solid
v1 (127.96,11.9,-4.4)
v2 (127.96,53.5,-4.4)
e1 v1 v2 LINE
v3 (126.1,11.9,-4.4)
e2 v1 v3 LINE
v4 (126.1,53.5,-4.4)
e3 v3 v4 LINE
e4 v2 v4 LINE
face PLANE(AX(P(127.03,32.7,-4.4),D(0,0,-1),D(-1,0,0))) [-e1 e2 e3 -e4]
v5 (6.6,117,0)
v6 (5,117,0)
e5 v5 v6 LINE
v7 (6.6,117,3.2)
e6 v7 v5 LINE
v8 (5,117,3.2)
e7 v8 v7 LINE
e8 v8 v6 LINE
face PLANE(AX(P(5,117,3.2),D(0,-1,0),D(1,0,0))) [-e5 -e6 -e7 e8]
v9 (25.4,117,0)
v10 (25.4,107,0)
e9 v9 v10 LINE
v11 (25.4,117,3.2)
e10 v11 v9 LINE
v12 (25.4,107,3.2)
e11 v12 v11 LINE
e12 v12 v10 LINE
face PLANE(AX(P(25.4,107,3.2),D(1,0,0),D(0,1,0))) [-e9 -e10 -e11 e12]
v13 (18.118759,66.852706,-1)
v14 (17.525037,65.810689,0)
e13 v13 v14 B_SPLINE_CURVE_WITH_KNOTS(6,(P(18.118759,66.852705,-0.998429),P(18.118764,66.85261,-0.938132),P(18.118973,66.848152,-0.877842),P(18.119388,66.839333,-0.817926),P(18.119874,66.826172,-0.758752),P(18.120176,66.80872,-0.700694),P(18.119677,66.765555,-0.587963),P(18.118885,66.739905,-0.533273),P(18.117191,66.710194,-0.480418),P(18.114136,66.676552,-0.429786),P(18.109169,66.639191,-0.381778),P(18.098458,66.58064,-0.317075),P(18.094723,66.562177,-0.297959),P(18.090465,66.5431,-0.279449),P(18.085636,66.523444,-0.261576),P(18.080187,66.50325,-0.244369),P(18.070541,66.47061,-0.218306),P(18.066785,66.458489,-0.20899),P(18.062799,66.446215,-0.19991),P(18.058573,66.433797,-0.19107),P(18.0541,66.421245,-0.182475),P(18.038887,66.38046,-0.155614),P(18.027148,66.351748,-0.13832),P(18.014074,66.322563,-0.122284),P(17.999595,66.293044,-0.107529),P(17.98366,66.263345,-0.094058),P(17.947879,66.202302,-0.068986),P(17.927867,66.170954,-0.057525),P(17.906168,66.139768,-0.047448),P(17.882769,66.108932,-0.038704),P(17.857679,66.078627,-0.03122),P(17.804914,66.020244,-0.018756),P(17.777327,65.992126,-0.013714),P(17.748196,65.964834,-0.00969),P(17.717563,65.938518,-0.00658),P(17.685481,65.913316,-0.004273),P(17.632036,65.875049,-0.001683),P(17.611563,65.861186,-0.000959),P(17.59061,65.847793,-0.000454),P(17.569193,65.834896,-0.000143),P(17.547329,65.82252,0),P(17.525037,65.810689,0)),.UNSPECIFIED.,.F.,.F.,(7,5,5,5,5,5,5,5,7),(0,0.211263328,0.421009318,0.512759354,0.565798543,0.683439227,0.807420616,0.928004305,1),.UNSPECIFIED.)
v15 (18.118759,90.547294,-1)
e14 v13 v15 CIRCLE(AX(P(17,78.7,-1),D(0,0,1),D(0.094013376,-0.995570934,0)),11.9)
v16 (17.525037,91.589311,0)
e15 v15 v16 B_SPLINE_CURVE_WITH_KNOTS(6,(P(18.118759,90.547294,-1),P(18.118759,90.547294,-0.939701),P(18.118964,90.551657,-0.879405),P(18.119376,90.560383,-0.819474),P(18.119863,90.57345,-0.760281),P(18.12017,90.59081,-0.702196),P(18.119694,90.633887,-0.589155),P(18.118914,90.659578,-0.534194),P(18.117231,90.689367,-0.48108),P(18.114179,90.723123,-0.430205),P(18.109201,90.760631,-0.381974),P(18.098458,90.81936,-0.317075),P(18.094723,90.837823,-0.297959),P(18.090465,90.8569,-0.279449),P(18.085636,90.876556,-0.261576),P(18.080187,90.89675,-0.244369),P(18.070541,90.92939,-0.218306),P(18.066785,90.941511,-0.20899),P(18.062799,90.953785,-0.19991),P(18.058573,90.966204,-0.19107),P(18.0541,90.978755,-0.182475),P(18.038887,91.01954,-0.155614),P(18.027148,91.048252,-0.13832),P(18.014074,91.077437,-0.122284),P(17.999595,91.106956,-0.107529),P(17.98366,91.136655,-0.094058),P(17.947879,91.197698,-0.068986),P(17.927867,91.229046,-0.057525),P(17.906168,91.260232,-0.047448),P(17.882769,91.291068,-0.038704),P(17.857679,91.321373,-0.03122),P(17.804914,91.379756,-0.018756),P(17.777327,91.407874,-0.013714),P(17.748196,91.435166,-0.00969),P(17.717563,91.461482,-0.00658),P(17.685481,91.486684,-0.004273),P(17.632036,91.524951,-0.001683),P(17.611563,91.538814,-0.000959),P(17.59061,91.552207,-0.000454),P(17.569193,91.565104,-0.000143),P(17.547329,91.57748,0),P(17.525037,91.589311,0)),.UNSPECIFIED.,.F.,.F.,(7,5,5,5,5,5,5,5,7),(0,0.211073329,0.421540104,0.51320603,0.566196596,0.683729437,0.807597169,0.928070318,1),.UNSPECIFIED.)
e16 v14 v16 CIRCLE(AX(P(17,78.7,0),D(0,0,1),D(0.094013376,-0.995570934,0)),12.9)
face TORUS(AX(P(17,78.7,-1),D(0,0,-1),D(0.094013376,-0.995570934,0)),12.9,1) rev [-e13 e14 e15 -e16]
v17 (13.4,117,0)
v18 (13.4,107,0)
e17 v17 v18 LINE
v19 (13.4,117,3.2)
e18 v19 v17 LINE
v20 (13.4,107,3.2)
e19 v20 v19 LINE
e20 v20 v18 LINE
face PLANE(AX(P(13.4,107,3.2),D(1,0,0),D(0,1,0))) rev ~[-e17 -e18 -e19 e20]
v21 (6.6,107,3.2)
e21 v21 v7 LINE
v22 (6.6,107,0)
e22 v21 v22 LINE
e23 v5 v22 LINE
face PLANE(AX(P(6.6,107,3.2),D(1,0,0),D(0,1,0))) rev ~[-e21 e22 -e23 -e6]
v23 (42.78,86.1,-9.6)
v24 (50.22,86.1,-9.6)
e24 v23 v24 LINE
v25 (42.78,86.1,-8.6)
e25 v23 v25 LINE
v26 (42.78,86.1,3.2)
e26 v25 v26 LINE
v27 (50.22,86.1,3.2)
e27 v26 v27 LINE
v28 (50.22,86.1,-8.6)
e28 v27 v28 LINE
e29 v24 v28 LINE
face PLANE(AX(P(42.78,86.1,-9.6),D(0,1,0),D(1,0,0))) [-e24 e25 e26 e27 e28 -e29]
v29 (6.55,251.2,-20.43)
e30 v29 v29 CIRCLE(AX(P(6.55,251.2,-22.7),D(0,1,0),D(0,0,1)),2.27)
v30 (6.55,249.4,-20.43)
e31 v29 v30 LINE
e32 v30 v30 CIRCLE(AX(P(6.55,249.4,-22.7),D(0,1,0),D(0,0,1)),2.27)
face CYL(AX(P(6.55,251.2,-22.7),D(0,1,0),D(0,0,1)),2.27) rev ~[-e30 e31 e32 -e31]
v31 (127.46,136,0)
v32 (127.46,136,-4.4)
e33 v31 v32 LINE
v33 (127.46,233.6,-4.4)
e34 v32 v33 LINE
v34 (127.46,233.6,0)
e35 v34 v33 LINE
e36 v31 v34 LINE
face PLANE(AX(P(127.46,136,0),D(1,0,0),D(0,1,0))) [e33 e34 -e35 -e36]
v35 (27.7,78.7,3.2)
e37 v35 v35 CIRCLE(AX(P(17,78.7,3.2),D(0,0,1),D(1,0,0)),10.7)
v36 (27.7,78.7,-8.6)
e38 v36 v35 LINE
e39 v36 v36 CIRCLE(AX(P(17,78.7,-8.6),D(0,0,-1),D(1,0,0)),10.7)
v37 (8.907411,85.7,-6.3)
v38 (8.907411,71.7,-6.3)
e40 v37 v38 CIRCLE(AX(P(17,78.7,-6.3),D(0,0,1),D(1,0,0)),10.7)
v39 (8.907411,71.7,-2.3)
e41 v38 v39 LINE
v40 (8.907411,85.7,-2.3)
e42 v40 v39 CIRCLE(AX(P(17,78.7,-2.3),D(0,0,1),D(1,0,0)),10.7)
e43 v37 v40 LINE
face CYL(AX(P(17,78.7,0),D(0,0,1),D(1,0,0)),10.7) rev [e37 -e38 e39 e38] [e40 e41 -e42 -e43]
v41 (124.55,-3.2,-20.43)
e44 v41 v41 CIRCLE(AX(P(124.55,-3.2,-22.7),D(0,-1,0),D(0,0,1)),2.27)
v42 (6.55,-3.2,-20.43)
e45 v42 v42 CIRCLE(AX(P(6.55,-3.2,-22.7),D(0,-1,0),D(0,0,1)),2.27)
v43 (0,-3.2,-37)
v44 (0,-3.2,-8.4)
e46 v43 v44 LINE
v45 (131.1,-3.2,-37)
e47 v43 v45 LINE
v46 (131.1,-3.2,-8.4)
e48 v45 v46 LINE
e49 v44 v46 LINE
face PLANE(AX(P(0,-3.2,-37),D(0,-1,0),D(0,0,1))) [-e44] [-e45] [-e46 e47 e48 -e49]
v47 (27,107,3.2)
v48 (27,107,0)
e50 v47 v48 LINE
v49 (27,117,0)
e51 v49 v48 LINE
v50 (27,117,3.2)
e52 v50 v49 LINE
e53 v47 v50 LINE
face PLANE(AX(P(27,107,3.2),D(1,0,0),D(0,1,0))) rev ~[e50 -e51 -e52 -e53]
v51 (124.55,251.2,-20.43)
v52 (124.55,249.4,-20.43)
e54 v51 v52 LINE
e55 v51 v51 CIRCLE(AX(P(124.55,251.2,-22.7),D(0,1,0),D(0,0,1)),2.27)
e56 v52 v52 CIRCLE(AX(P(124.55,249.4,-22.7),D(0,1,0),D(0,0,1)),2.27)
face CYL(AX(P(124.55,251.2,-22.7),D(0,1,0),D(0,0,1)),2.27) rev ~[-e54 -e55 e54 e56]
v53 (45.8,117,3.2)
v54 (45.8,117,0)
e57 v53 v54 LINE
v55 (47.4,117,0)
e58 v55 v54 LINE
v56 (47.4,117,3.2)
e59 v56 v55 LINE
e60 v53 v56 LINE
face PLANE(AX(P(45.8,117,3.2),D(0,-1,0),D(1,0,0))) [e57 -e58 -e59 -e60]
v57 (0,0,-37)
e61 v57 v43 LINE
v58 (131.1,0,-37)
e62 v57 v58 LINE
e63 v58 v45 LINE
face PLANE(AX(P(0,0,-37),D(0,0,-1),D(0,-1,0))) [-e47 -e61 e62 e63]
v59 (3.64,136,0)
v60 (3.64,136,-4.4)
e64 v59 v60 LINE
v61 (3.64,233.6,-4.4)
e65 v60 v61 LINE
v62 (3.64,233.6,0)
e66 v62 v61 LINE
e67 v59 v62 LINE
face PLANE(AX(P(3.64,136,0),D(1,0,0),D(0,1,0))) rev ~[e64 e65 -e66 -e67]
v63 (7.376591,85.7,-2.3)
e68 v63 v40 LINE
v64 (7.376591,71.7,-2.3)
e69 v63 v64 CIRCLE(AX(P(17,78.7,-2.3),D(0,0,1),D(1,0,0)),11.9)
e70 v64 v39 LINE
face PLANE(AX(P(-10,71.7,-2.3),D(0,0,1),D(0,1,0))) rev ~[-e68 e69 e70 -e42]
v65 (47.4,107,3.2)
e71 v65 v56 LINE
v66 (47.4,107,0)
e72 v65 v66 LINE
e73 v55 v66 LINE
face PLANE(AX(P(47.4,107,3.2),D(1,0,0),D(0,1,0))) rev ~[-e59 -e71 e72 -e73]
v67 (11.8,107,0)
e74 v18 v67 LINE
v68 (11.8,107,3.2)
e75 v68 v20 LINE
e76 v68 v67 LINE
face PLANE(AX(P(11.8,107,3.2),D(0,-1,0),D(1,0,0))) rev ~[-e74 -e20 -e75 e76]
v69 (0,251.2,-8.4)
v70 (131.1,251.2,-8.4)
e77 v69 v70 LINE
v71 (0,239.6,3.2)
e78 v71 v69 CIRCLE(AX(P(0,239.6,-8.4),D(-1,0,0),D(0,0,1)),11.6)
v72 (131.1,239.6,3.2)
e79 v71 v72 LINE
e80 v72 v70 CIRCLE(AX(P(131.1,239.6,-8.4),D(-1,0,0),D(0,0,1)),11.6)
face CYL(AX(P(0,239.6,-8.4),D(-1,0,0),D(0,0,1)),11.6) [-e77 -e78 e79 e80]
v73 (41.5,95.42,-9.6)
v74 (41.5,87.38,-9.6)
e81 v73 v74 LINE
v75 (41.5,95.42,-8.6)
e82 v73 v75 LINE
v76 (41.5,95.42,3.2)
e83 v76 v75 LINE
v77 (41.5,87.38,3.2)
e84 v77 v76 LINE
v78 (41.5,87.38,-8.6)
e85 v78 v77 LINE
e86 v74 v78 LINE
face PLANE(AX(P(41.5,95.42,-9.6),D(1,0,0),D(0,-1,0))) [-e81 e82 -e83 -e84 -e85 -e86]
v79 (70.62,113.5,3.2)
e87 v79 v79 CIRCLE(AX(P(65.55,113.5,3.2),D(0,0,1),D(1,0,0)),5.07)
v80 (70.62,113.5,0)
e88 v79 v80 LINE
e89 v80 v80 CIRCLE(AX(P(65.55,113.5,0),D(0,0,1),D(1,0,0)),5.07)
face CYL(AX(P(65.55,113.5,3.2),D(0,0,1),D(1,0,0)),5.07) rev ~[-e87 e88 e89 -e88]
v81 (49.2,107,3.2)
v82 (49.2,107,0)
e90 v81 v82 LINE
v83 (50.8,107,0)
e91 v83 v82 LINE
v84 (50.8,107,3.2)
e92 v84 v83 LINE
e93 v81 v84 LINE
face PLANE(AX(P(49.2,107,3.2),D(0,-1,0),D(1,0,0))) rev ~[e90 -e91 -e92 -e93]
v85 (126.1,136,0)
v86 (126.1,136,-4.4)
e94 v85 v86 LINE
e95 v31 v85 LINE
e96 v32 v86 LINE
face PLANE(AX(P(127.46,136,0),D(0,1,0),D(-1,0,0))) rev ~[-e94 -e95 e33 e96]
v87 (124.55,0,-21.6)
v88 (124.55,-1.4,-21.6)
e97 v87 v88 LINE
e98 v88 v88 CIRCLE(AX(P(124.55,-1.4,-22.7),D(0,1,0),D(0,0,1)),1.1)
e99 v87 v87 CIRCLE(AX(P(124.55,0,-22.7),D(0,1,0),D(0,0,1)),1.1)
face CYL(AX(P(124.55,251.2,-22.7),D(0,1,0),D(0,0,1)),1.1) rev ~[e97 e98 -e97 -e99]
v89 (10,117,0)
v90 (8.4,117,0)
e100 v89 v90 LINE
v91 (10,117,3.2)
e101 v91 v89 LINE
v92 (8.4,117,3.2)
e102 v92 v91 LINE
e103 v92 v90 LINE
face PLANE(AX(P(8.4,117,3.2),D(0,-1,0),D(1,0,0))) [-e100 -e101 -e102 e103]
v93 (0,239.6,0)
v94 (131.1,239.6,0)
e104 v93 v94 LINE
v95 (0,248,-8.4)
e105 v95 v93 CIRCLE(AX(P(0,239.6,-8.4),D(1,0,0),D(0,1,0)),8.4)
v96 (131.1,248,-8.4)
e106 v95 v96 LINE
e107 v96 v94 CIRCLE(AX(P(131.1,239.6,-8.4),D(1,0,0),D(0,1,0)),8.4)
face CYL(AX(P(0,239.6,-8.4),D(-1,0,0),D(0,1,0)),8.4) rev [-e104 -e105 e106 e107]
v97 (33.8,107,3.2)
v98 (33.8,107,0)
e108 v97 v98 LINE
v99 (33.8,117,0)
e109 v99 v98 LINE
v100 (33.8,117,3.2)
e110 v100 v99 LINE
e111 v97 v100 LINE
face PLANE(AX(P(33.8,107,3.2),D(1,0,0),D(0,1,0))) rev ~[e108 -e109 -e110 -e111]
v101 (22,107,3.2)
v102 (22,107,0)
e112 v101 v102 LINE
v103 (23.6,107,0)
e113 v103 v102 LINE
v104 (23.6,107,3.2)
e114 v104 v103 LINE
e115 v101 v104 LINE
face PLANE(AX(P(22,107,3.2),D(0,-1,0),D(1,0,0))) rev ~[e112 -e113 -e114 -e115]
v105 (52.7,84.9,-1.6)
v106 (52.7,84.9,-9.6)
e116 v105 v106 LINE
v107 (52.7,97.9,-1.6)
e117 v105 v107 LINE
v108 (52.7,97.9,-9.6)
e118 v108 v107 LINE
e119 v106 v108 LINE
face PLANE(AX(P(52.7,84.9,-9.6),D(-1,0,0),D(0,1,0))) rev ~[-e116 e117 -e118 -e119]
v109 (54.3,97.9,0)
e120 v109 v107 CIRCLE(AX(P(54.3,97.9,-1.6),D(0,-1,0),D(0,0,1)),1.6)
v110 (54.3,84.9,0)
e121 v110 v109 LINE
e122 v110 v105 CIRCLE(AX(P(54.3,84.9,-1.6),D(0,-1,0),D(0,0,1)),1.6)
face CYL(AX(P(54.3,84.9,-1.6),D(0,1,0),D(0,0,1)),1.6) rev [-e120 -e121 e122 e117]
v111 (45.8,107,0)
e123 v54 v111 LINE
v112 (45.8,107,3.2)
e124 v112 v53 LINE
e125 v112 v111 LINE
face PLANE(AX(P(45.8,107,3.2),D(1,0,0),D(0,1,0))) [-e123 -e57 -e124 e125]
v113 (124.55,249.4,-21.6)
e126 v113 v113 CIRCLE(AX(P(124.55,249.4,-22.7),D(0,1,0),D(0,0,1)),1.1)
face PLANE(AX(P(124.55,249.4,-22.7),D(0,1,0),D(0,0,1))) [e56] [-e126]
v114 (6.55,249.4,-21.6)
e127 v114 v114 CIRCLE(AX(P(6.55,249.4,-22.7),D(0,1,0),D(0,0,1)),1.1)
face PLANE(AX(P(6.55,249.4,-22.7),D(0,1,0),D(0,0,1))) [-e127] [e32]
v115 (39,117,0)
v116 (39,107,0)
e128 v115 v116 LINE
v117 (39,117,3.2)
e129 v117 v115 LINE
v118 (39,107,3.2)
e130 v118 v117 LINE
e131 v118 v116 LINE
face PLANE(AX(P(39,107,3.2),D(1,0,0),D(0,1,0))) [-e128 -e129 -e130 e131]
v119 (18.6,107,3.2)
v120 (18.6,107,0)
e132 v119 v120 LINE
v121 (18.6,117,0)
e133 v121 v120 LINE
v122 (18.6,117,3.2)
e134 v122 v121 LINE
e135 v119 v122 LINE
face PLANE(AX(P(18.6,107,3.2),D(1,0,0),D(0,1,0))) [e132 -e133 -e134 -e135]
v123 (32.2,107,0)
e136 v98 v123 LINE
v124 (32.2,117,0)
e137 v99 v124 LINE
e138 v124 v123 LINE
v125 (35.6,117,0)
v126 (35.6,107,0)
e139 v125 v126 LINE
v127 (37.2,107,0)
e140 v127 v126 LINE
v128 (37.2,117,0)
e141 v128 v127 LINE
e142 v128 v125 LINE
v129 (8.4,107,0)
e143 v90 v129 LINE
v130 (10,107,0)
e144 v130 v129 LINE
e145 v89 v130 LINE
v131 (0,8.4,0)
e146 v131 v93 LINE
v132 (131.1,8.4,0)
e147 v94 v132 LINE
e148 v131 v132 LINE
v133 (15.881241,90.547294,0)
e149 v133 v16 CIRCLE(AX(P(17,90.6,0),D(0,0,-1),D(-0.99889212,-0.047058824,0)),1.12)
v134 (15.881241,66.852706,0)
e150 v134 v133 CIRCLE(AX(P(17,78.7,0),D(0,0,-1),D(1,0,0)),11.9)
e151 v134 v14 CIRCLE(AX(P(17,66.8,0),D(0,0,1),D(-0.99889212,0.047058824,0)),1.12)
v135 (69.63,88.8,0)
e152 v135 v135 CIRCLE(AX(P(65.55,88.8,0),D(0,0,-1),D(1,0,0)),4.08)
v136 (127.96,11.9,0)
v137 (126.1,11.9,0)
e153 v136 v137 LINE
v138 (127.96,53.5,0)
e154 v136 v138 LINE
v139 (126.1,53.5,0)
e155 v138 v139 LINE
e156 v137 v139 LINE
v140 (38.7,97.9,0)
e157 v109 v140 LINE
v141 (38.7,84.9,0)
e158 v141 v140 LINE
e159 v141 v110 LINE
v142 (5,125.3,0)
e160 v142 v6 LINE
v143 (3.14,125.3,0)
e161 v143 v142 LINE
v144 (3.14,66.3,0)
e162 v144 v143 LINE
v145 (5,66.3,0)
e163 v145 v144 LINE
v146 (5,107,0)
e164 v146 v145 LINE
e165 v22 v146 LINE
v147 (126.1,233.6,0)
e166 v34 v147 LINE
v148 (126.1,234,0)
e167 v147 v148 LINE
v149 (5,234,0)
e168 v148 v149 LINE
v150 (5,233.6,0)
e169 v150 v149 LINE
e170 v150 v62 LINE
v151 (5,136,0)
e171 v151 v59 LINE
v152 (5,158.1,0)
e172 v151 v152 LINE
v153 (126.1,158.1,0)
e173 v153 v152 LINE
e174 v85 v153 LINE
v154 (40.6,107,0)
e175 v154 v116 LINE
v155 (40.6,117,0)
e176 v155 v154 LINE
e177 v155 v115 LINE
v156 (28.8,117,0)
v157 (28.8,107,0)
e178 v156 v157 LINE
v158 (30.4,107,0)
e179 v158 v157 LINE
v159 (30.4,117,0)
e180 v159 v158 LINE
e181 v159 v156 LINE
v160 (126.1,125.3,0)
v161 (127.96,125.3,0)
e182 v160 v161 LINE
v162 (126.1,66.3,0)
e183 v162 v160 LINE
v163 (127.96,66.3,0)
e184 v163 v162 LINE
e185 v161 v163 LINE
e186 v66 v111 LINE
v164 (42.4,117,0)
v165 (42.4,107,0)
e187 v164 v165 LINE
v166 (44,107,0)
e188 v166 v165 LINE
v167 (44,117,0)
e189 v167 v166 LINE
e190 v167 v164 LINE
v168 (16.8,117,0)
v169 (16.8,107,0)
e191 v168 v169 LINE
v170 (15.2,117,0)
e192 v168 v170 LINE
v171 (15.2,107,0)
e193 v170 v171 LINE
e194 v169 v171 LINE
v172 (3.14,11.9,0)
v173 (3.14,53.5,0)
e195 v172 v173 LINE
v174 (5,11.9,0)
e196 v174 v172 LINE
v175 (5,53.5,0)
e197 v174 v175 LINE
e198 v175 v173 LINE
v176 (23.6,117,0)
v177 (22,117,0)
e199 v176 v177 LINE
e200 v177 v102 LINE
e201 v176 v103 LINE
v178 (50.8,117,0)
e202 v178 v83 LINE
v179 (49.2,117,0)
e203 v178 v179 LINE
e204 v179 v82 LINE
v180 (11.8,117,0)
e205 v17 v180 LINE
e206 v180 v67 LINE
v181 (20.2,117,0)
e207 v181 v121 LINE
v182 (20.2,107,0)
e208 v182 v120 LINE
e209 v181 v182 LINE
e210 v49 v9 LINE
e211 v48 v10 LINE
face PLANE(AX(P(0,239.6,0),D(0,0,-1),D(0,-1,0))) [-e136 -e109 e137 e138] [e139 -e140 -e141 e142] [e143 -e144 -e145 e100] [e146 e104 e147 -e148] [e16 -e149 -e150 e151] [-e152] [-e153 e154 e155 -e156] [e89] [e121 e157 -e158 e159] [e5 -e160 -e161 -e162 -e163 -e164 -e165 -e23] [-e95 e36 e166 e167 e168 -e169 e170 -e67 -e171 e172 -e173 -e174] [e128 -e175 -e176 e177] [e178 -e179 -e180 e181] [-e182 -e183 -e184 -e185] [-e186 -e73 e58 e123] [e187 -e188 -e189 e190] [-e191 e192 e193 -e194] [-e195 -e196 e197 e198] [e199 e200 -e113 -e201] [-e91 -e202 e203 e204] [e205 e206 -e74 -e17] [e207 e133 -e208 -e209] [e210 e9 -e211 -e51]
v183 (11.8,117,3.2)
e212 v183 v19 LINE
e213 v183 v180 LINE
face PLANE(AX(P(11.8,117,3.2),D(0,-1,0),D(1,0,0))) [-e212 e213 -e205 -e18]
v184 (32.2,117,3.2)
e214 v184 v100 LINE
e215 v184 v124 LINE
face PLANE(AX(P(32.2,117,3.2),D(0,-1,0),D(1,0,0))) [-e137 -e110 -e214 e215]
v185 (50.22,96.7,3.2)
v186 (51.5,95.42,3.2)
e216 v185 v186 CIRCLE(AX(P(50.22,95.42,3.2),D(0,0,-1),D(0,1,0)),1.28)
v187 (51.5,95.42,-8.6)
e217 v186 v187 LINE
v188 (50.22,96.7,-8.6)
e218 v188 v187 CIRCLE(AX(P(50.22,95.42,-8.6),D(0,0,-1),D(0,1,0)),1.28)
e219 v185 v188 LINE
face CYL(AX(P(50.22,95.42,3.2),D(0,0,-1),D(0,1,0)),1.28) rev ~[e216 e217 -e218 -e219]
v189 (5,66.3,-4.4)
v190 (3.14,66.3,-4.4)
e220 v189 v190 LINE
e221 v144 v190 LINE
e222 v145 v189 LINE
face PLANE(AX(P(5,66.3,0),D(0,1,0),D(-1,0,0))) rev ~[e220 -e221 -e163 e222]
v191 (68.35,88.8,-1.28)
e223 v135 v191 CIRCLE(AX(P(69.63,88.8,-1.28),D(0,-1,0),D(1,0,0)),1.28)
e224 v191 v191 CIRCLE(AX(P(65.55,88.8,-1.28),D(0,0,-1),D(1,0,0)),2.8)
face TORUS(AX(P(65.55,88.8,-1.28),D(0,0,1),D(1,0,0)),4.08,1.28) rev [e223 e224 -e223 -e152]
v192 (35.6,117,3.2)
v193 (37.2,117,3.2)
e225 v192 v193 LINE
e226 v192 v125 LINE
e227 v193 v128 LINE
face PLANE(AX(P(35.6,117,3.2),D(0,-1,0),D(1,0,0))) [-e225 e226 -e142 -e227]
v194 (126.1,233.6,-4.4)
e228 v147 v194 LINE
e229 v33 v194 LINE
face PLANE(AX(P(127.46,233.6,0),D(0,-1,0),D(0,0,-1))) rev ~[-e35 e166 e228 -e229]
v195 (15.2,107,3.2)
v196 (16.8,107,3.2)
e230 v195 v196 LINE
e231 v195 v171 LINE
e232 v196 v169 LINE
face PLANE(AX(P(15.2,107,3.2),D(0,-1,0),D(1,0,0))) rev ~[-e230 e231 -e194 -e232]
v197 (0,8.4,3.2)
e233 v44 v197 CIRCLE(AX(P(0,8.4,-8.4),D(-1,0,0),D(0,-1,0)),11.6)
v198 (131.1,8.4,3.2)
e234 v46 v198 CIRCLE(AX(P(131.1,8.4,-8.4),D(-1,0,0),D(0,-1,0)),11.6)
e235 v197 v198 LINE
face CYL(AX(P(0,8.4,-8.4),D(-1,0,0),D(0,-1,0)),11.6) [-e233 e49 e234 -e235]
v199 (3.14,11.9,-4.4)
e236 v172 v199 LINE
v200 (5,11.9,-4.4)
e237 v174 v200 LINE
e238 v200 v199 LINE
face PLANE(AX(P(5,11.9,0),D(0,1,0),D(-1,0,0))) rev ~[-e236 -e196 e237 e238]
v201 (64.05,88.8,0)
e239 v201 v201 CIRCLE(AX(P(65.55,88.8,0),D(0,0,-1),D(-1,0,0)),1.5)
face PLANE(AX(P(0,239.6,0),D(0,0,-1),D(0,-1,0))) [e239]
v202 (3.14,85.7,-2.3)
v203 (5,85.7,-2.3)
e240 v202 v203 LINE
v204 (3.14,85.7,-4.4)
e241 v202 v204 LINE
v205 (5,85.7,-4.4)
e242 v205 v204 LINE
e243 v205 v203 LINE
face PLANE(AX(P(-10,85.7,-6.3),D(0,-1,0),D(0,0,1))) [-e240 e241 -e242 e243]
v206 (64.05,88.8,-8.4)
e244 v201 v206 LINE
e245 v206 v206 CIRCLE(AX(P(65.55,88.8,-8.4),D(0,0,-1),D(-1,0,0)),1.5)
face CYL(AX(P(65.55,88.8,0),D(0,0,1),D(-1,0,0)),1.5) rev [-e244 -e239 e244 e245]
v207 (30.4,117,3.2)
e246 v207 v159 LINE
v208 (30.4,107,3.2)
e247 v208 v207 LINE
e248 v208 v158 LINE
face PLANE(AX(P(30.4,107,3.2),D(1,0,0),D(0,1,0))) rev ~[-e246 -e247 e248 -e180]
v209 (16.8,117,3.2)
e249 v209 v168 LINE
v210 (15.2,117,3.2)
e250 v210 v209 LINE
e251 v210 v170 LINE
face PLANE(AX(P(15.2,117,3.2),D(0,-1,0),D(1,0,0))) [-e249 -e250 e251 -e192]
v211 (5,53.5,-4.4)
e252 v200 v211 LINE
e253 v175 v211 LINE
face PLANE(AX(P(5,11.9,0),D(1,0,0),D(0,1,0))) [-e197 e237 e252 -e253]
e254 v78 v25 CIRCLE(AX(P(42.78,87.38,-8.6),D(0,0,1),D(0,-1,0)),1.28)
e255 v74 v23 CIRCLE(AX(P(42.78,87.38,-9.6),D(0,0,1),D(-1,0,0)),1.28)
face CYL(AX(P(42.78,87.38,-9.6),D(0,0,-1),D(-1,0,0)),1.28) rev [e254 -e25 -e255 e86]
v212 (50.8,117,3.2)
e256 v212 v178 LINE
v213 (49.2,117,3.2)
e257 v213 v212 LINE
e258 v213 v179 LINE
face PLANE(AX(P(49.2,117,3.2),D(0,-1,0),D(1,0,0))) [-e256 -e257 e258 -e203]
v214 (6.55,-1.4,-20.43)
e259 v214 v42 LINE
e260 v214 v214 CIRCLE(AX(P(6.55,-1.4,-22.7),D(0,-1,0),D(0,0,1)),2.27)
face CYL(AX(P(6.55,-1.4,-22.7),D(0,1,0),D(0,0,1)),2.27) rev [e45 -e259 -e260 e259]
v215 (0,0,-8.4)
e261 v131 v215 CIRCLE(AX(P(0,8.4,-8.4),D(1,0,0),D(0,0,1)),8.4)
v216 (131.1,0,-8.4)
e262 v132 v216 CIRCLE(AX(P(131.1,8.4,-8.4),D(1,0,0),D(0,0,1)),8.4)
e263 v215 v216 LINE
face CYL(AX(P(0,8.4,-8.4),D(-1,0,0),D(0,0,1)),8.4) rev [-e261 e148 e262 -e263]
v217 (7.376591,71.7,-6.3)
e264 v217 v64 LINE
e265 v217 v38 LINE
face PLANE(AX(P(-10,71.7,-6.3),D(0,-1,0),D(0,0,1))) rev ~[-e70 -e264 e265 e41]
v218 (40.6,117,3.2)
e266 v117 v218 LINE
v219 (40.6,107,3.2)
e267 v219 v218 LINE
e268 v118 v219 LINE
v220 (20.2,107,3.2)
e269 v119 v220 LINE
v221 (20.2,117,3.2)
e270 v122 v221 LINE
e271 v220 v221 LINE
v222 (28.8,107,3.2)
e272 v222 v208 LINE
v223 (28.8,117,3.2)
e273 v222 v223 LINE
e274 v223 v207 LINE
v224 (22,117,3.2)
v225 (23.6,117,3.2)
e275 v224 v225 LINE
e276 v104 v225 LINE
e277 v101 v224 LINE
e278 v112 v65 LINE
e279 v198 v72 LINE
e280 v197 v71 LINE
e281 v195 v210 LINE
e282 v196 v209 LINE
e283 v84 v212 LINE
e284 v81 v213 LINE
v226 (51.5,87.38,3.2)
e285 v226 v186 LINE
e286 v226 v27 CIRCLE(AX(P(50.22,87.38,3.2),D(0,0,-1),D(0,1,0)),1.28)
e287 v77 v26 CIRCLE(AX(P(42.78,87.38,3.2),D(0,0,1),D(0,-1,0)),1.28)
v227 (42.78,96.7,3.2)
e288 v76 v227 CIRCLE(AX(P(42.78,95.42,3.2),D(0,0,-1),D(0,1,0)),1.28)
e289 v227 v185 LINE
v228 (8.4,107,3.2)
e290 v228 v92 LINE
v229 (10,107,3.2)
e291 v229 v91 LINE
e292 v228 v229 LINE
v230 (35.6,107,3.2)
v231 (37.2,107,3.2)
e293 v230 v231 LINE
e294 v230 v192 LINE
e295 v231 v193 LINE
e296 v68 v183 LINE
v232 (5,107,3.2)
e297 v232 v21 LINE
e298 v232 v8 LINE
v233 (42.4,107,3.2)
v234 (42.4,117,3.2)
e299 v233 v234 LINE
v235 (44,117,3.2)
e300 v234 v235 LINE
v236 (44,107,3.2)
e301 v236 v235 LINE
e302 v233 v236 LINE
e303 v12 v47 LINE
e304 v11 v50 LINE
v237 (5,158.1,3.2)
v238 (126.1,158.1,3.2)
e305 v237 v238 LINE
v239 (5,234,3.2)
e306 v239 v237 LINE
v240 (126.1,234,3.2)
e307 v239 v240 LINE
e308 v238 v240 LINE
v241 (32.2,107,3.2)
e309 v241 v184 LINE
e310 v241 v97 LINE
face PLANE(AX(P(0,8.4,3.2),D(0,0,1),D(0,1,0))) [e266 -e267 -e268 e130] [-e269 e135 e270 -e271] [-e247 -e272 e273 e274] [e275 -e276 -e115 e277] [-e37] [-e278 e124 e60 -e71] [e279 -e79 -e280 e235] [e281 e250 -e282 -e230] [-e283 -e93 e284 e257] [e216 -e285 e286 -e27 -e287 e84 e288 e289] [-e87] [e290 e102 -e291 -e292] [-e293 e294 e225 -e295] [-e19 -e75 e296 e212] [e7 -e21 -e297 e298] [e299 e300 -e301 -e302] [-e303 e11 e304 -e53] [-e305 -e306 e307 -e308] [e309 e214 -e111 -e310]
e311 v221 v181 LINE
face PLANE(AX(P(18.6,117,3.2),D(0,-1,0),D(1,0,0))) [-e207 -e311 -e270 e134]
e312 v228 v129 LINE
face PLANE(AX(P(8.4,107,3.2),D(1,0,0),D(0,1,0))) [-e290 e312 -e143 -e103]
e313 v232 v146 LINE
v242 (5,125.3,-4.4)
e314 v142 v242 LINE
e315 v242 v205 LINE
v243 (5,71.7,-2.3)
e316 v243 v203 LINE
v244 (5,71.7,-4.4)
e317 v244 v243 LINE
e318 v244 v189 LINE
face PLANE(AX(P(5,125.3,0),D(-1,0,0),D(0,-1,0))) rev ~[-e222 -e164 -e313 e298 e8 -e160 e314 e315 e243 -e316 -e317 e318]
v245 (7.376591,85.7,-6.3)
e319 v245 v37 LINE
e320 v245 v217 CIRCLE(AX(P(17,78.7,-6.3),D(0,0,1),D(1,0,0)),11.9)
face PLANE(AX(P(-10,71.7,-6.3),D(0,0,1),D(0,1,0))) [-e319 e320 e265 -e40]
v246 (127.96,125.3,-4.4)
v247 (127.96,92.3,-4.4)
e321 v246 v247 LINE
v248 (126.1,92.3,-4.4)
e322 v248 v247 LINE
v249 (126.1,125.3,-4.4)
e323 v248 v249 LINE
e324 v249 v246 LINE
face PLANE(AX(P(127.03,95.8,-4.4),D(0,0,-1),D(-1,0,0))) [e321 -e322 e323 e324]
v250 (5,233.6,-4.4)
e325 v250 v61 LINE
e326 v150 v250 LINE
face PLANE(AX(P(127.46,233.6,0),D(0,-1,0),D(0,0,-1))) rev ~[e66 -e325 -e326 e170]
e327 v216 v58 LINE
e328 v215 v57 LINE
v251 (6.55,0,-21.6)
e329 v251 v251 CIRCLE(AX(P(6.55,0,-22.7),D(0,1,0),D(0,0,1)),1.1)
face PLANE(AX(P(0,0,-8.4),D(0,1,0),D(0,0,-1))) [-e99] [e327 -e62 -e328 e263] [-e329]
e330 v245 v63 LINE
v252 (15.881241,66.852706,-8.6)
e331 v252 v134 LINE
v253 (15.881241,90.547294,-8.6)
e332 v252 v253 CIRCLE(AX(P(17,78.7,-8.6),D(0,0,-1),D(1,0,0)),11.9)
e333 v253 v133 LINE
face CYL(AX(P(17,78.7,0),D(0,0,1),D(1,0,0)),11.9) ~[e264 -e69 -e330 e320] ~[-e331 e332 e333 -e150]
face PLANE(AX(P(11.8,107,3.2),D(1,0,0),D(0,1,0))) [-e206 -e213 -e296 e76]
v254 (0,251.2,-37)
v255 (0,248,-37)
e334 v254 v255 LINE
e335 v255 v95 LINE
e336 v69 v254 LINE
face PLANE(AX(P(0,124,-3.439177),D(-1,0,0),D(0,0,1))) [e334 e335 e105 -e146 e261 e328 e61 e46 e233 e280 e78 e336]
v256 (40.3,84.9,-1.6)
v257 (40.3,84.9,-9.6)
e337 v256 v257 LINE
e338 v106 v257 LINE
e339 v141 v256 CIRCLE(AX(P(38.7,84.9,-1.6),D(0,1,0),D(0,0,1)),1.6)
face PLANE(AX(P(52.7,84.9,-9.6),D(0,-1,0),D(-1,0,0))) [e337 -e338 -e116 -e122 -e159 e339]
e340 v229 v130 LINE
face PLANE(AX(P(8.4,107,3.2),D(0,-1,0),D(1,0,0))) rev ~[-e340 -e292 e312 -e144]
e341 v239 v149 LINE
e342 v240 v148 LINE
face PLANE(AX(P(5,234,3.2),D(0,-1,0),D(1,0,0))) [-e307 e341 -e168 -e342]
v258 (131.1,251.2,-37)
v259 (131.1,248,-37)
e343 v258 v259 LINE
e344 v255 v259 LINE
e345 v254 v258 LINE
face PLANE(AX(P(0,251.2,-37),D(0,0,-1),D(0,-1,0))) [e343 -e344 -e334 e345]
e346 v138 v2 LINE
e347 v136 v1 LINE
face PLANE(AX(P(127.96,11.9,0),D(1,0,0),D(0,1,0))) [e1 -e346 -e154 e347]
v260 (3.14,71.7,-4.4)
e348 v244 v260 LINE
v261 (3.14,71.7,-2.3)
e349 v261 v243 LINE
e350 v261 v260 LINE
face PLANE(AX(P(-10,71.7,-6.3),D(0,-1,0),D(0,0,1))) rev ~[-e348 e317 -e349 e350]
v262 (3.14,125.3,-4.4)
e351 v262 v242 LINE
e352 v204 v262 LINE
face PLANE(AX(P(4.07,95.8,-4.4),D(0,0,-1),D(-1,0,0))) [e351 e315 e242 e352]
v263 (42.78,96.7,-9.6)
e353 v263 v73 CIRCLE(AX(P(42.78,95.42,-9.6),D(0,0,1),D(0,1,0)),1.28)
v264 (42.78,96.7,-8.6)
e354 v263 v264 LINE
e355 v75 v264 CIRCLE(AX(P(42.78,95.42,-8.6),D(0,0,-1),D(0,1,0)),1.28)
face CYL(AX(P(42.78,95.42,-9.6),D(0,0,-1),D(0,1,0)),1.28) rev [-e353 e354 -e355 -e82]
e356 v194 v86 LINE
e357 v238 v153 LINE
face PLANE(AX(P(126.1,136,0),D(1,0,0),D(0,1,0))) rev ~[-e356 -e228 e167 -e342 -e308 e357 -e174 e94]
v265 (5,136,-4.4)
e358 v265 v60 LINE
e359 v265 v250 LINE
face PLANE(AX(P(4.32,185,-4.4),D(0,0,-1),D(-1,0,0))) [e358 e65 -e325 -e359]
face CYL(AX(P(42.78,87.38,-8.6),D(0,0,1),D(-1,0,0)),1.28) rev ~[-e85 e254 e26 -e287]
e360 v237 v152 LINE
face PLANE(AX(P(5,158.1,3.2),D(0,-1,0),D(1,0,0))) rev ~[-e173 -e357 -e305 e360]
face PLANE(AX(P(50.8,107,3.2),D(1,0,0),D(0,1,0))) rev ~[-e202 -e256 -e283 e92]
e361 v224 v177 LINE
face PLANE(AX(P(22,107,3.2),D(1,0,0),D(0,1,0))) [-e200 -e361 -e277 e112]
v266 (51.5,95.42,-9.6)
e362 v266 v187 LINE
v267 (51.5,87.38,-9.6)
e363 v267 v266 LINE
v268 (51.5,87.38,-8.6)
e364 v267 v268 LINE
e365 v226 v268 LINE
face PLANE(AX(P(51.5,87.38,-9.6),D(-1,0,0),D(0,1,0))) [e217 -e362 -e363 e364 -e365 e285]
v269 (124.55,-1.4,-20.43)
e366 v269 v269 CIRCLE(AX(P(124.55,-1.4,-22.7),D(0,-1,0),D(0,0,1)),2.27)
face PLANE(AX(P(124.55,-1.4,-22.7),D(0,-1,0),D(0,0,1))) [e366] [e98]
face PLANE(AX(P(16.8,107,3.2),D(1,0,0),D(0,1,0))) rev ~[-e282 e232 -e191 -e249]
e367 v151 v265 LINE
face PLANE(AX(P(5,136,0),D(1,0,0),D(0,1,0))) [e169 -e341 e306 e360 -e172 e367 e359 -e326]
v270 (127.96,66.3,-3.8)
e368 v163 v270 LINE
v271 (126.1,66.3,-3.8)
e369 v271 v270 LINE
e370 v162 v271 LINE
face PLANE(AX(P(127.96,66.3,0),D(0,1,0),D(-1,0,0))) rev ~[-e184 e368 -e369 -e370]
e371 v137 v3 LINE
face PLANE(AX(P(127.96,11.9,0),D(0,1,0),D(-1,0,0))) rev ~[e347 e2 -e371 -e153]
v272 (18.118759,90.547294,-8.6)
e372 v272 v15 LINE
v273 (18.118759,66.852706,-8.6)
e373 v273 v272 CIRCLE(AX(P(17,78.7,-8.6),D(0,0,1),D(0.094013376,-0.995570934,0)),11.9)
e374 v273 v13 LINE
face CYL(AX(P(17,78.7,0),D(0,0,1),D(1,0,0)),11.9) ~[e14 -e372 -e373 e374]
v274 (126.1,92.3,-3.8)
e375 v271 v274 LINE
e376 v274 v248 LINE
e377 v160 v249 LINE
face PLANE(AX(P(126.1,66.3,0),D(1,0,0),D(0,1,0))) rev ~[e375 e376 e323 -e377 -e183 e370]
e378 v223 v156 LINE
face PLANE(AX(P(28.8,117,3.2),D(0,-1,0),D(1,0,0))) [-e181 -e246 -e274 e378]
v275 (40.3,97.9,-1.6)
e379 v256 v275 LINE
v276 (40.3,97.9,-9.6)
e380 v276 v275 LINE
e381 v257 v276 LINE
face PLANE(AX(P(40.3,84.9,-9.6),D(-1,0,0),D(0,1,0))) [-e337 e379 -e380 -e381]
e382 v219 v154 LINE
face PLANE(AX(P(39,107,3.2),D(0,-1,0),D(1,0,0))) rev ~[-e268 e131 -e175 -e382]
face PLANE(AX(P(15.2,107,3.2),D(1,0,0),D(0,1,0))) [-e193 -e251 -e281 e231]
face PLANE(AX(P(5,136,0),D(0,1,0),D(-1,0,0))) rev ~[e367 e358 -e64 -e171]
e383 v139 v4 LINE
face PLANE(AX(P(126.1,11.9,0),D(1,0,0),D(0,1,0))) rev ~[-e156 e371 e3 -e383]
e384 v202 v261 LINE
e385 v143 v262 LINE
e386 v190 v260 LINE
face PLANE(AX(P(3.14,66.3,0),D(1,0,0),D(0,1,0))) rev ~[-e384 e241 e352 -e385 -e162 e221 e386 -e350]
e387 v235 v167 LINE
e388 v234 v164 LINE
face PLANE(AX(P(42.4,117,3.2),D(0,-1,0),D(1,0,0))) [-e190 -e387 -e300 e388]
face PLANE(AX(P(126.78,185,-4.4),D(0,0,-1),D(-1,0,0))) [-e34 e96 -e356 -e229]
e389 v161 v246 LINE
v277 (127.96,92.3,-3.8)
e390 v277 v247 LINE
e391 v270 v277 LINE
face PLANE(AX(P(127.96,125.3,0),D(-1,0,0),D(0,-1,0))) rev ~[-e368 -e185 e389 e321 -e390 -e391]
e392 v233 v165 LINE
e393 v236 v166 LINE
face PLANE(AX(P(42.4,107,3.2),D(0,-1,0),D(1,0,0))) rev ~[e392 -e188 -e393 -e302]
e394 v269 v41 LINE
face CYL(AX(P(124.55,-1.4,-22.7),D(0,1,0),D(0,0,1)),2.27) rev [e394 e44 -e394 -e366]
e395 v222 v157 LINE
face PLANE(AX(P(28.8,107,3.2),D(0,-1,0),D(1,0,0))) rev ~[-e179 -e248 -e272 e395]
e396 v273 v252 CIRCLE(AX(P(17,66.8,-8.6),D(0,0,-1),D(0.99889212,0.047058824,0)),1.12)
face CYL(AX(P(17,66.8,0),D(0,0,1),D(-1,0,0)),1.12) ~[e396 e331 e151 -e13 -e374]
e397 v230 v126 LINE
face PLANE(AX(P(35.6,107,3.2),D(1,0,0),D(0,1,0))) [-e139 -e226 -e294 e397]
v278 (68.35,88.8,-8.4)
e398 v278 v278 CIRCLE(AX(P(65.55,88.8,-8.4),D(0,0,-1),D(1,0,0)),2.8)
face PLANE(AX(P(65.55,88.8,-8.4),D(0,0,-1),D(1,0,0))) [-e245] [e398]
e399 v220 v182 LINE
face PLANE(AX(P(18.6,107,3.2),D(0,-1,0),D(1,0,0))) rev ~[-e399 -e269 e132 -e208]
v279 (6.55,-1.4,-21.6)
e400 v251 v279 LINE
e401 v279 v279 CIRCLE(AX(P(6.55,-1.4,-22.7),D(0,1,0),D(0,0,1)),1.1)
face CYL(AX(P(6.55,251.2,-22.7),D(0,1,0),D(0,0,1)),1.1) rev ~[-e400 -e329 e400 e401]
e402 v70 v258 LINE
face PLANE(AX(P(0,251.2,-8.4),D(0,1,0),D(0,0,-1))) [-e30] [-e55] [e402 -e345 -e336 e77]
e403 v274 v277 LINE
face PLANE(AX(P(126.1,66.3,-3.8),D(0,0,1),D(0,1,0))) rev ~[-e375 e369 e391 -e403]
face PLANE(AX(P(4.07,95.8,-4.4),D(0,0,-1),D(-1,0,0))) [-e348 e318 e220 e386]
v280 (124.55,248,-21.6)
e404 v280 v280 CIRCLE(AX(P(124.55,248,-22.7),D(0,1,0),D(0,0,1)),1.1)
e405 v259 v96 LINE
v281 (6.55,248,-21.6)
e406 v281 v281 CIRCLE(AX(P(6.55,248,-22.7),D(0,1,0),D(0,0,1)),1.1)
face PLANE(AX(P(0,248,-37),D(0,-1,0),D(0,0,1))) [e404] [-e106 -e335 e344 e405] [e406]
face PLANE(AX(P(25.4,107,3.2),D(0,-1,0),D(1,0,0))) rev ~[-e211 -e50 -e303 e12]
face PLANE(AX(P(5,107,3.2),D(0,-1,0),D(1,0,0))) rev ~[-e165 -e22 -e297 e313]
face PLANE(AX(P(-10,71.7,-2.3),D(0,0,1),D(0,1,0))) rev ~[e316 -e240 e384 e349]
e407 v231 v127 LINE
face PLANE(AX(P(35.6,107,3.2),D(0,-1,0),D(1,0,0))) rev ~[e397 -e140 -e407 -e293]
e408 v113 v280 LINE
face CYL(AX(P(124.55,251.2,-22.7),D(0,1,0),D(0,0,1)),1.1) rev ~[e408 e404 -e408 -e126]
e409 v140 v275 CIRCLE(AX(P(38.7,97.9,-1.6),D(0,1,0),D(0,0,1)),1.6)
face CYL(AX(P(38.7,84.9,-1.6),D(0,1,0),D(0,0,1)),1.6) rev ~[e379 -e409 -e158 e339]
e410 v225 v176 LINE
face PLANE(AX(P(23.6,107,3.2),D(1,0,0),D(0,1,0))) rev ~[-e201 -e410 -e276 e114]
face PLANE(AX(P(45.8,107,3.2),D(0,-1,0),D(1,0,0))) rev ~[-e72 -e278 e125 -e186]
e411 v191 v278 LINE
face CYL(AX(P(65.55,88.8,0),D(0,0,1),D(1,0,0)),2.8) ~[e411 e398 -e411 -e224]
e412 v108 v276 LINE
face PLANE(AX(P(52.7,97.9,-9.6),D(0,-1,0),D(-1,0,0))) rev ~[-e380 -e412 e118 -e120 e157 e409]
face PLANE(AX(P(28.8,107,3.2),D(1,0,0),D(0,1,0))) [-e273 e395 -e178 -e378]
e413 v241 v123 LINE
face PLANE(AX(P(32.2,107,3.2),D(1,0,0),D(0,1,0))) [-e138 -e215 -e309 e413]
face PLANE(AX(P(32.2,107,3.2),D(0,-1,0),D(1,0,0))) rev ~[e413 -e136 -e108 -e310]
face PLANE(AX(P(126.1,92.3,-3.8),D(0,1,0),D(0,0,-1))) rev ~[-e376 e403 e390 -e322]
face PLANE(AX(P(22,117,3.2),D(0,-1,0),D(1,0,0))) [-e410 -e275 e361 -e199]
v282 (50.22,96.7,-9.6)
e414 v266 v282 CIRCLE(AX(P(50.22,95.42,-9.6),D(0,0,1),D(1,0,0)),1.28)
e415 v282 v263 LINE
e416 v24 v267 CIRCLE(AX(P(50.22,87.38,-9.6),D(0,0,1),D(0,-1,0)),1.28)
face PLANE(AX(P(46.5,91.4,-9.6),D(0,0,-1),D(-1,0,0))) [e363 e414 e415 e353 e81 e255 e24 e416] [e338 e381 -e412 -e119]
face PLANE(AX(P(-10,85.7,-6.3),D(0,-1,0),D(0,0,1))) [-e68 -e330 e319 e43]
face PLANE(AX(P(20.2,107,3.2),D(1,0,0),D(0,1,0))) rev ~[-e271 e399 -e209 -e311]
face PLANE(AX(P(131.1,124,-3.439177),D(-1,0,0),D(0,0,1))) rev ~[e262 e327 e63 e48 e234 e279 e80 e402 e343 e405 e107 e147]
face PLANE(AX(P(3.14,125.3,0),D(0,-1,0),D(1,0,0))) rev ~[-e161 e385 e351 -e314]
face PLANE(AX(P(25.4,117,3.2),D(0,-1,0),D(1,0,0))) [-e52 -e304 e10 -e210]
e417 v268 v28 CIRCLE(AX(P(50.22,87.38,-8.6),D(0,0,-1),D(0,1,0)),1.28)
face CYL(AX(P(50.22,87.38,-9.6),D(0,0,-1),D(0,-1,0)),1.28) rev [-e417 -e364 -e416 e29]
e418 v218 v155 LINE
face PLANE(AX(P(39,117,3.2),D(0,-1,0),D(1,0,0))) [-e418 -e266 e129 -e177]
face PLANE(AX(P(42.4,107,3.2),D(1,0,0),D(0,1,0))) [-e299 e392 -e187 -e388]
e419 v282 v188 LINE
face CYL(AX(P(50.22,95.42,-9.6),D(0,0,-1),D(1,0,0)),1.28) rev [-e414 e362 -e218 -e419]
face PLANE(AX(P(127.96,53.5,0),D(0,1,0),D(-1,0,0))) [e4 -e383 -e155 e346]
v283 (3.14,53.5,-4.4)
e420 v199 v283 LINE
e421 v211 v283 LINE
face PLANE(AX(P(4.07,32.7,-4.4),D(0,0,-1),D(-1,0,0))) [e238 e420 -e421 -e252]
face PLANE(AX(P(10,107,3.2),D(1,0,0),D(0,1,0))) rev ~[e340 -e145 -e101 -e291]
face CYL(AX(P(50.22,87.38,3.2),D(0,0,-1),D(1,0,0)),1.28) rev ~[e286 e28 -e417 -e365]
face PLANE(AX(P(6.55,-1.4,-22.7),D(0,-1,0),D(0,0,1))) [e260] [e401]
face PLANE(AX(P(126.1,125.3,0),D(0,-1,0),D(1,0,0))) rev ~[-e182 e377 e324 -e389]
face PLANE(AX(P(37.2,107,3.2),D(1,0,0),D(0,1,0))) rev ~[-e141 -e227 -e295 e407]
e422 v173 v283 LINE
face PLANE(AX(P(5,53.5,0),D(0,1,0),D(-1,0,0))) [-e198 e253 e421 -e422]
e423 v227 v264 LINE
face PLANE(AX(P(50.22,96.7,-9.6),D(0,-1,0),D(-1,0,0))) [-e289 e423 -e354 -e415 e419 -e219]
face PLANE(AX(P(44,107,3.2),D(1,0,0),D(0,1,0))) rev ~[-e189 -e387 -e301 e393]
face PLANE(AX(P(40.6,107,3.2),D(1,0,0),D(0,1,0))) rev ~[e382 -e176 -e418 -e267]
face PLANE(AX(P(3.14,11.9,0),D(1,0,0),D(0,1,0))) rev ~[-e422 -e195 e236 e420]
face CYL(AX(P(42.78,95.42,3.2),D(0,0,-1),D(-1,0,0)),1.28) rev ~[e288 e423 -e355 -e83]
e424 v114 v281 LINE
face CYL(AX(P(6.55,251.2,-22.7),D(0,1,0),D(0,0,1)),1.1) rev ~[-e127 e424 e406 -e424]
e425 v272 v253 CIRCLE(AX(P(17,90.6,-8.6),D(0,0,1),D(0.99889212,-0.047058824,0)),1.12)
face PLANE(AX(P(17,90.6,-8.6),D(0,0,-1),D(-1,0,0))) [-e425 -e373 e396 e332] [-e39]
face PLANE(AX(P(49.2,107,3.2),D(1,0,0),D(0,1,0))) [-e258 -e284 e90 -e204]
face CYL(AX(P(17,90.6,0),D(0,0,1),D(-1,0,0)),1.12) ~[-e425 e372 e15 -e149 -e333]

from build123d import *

# Parameters (mm, degrees)
SALIENTE_EXTRUIR1_DEPTH    = 131.1
CROQUIS3_R                 = 1.1
CORTAR_EXTRUIR1_DEPTH      = 289.575068223
CROQUIS4_R                 = 10.7
CROQUIS4_R_2               = 5.07
CROQUIS4_W                 = 121.1
CROQUIS4_H                 = 75.8
CROQUIS4_W_2               = 1.6
CROQUIS4_H_2               = 10
CROQUIS4_W_3               = 10
CROQUIS4_H_3               = 10.6
CORTAR_EXTRUIR2_DEPTH      = 287.189954401
CROQUIS7_W                 = 1.36
CROQUIS7_H                 = 98
CROQUIS7_W_2               = 1.86
CROQUIS7_H_2               = 41.6
SALIENTE_EXTRUIR2_DEPTH    = 4.4
CROQUIS8_R                 = 2.27
CORTAR_EXTRUIR3_DEPTH      = 1.8
CORTAR_EXTRUIR4_START      = -1.8
CROQUIS9_R                 = 2.27
CORTAR_EXTRUIR4_DEPTH      = 1.8
CROQUIS10_R                = 11.9
CROQUIS10_R_2              = 10.7
CROQUIS10_W                = 12.4
CROQUIS10_H                = 13
CROQUIS10_W_2              = 10
CROQUIS10_H_2              = 10.6
SALIENTE_EXTRUIR4_DEPTH    = 8.6
REDONDEO2_R                = 1.28
CORTAR_EXTRUIR5_REACH      = 292.482
CORTAR_EXTRUIR5_END_RADIUS = 10.7
CROQUIS11_W                = 4
CROQUIS11_H                = 14
SALIENTE_EXTRUIR6_START    = 1
CROQUIS13_W                = 12.4
CROQUIS13_H                = 13
SALIENTE_EXTRUIR6_DEPTH    = 1
CROQUIS14_R                = 2.8
CROQUIS14_R_2              = 1.5
SALIENTE_EXTRUIR7_DEPTH    = 8.4
REDONDEO3_R                = 1.28
CROQUIS17_W                = 4.4
CROQUIS17_H                = 0.4
CORTAR_EXTRUIR6_DEPTH      = 285.106479335
REDONDEO4_R                = 1.6
CROQUIS19_R                = 1.12
SALIENTE_EXTRUIR8_DEPTH    = 8.6
REDONDEO5_R                = 1
CORTAR_EXTRUIR8_START      = -1.86
CROQUIS21_W                = 0.6
CROQUIS21_H                = 26
CORTAR_EXTRUIR8_DEPTH      = 1.86
CROQUIS23_W                = 121.1
CROQUIS23_H                = 0.1
CORTAR_EXTRUIR9_DEPTH      = 287.189954401


with BuildPart() as part:
    # Croquis2 → Saliente-Extruir1 (new body)
    with BuildSketch(Plane(origin=(0, 0, 0), x_dir=(0, 0, -1), z_dir=(1, 0, 0))):
        with BuildLine():
            Line((37, 0), (37, -3.2))
            Line((37, -3.2), (8.4, -3.2))
            ThreePointArc((8.4, -3.2), (0.197561338, 0.197561338), (-3.2, 8.4))
            Line((-3.2, 8.4), (-3.2, 239.6))
            ThreePointArc((-3.2, 239.6), (0.197561338, 247.802438662), (8.4, 251.2))
            Line((8.4, 251.2), (37, 251.2))
            Line((37, 251.2), (37, 248))
            Line((37, 248), (8.4, 248))
            ThreePointArc((8.4, 248), (2.460303038, 245.539696962), (0, 239.6))
            Line((0, 239.6), (0, 8.4))
            ThreePointArc((0, 8.4), (2.460303038, 2.460303038), (8.4, 0))
            Line((8.4, 0), (37, 0))
        make_face()
    extrude(amount=SALIENTE_EXTRUIR1_DEPTH)

    # Croquis3 → Cortar-Extruir1 (cut, through all)
    with BuildSketch(Plane(origin=(0, 251.2, 0), x_dir=(1, 0, 0), z_dir=(0, 1, 0))):
        with Locations(Location((6.55, 22.7, 0), (0, 0, 270))):
            Circle(CROQUIS3_R)
        with Locations(Location((124.55, 22.7, 0), (0, 0, 270))):
            Circle(CROQUIS3_R)
    extrude(amount=-CORTAR_EXTRUIR1_DEPTH, mode=Mode.SUBTRACT)

    # Croquis4 → Cortar-Extruir2 (cut, through all)
    with BuildSketch(Plane.XY.offset(3.2)):
        with Locations((17, 78.7)):
            Circle(CROQUIS4_R)
        with Locations((65.55, 113.5)):
            Circle(CROQUIS4_R_2)
        with Locations((65.55, 196.1)):
            Rectangle(CROQUIS4_W, CROQUIS4_H)
        with Locations((9.2, 112)):
            Rectangle(CROQUIS4_W_2, CROQUIS4_H_2)
        with Locations((46.5, 91.4)):
            Rectangle(CROQUIS4_W_3, CROQUIS4_H_3)
        with Locations((5.8, 112)):
            Rectangle(CROQUIS4_W_2, CROQUIS4_H_2)
        with Locations((12.6, 112)):
            Rectangle(CROQUIS4_W_2, CROQUIS4_H_2)
        with Locations((16, 112)):
            Rectangle(CROQUIS4_W_2, CROQUIS4_H_2)
        with Locations((19.4, 112)):
            Rectangle(CROQUIS4_W_2, CROQUIS4_H_2)
        with Locations((22.8, 112)):
            Rectangle(CROQUIS4_W_2, CROQUIS4_H_2)
        with Locations((26.2, 112)):
            Rectangle(CROQUIS4_W_2, CROQUIS4_H_2)
        with Locations((29.6, 112)):
            Rectangle(CROQUIS4_W_2, CROQUIS4_H_2)
        with Locations((33, 112)):
            Rectangle(CROQUIS4_W_2, CROQUIS4_H_2)
        with Locations((36.4, 112)):
            Rectangle(CROQUIS4_W_2, CROQUIS4_H_2)
        with Locations((39.8, 112)):
            Rectangle(CROQUIS4_W_2, CROQUIS4_H_2)
        with Locations((43.2, 112)):
            Rectangle(CROQUIS4_W_2, CROQUIS4_H_2)
        with Locations((46.6, 112)):
            Rectangle(CROQUIS4_W_2, CROQUIS4_H_2)
        with Locations((50, 112)):
            Rectangle(CROQUIS4_W_2, CROQUIS4_H_2)
    extrude(amount=-CORTAR_EXTRUIR2_DEPTH, mode=Mode.SUBTRACT)

    # Croquis7 → Saliente-Extruir2 (add)
    with BuildSketch(Plane(origin=(0, 0, 0), x_dir=(-1, 0, 0), z_dir=(0, 0, -1))):
        Polygon((-127.46, 125.3), (-127.96, 125.3), (-127.96, 66.3), (-127.46, 66.3), (-126.1, 66.3), (-126.1, 125.3), align=None)
        with Locations((-126.78, 185)):
            Rectangle(CROQUIS7_W, CROQUIS7_H)
        with Locations((-4.32, 185)):
            Rectangle(CROQUIS7_W, CROQUIS7_H)
        Polygon((-3.64, 125.3), (-5, 125.3), (-5, 66.3), (-3.64, 66.3), (-3.14, 66.3), (-3.14, 125.3), align=None)
        with Locations((-127.03, 32.7)):
            Rectangle(CROQUIS7_W_2, CROQUIS7_H_2)
        with Locations((-4.07, 32.7)):
            Rectangle(CROQUIS7_W_2, CROQUIS7_H_2)
    extrude(amount=SALIENTE_EXTRUIR2_DEPTH)

    # Croquis8 → Cortar-Extruir3 (cut)
    with BuildSketch(Plane(origin=(0, 251.2, 0), x_dir=(1, 0, 0), z_dir=(0, 1, 0))):
        with Locations(Location((6.55, 22.7, 0), (0, 0, 270))):
            Circle(CROQUIS8_R)
        with Locations(Location((124.55, 22.7, 0), (0, 0, 270))):
            Circle(CROQUIS8_R)
    extrude(amount=-CORTAR_EXTRUIR3_DEPTH, mode=Mode.SUBTRACT)

    # Croquis9 → Cortar-Extruir4 (cut)
    with BuildSketch(Plane.XZ.offset(3.2).offset(CORTAR_EXTRUIR4_START)):
        with Locations(Location((124.55, -22.7, 0), (0, 0, 90))):
            Circle(CROQUIS9_R)
        with Locations(Location((6.55, -22.7, 0), (0, 0, 90))):
            Circle(CROQUIS9_R)
    extrude(amount=CORTAR_EXTRUIR4_DEPTH, mode=Mode.SUBTRACT)

    # Croquis10 → Saliente-Extruir4 (add)
    # profile 1 of 2: a face of its own
    with BuildSketch(Plane(origin=(0, 0, 0), x_dir=(-1, 0, 0), z_dir=(0, 0, -1))):
        with Locations(Location((-17, 78.7, 0), (0, 0, 180))):
            Circle(CROQUIS10_R)
        with Locations(Location((-17, 78.7, 0), (0, 0, 180))):
            Circle(CROQUIS10_R_2, mode=Mode.SUBTRACT)
    # profile 2 of 2: a face of its own
    with BuildSketch(Plane(origin=(0, 0, 0), x_dir=(-1, 0, 0), z_dir=(0, 0, -1))):
        with Locations((-46.5, 91.4)):
            Rectangle(CROQUIS10_W, CROQUIS10_H)
        with Locations((-46.5, 91.4)):
            Rectangle(CROQUIS10_W_2, CROQUIS10_H_2, mode=Mode.SUBTRACT)
    extrude(amount=SALIENTE_EXTRUIR4_DEPTH)

    # Redondeo2
    redondeo2_edges = [part.edges().sort_by_distance(p)[0] for p in [
        (41.5, 86.1, -2.7),
        (41.5, 96.7, -2.7),
        (51.5, 96.7, -2.7),
        (51.5, 86.1, -2.7),
    ]]
    fillet(redondeo2_edges, radius=REDONDEO2_R)

    # Cortar-Extruir5: up to this cylinder (the profile starts outside it)
    cortar_extruir5_end = Plane(origin=(17, 78.7, -4.3), z_dir=(0, 0, 1)) * Cylinder(CORTAR_EXTRUIR5_END_RADIUS, 607.364, mode=Mode.PRIVATE)
    # Croquis11 → Cortar-Extruir5 (cut, up to the surface)
    with BuildSketch(Plane.ZY.offset(10), mode=Mode.PRIVATE) as cortar_extruir5_sk1:
        with Locations((-4.3, 78.7)):
            Rectangle(CROQUIS11_W, CROQUIS11_H)
    cortar_extruir5_tool1 = extrude(cortar_extruir5_sk1.sketch, amount=-CORTAR_EXTRUIR5_REACH, mode=Mode.PRIVATE) - cortar_extruir5_end
    add(cortar_extruir5_tool1.solids().sort_by_distance((-10, 78.7, -4.3))[0], mode=Mode.SUBTRACT)

    # Croquis13 → Saliente-Extruir6 (add)
    with BuildSketch(Plane(origin=(0, 0, -8.6), x_dir=(-1, 0, 0), z_dir=(0, 0, -1)).offset(SALIENTE_EXTRUIR6_START)):
        with Locations((-46.5, 91.4)):
            Rectangle(CROQUIS13_W, CROQUIS13_H)
        with BuildLine():
            ThreePointArc((-50.22, 86.1), (-51.12509668, 86.47490332), (-51.5, 87.38))
            Line((-51.5, 87.38), (-51.5, 95.42))
            ThreePointArc((-51.5, 95.42), (-51.12509668, 96.32509668), (-50.22, 96.7))
            Line((-50.22, 96.7), (-42.78, 96.7))
            ThreePointArc((-42.78, 96.7), (-41.87490332, 96.32509668), (-41.5, 95.42))
            Line((-41.5, 95.42), (-41.5, 87.38))
            ThreePointArc((-41.5, 87.38), (-41.87490332, 86.47490332), (-42.78, 86.1))
            Line((-42.78, 86.1), (-50.22, 86.1))
        make_face(mode=Mode.SUBTRACT)
    extrude(amount=-SALIENTE_EXTRUIR6_DEPTH)

    # Croquis14 → Saliente-Extruir7 (add)
    with BuildSketch(Plane(origin=(0, 0, 0), x_dir=(-1, 0, 0), z_dir=(0, 0, -1))):
        with Locations(Location((-65.55, 88.8, 0), (0, 0, 180))):
            Circle(CROQUIS14_R)
        with Locations((-65.55, 88.8)):
            Circle(CROQUIS14_R_2, mode=Mode.SUBTRACT)
    extrude(amount=SALIENTE_EXTRUIR7_DEPTH)

    # Redondeo3
    redondeo3_edges = [part.edges().sort_by_distance(p)[0] for p in [
        (62.75, 88.8, 0),
    ]]
    fillet(redondeo3_edges, radius=REDONDEO3_R)

    # Croquis17 → Cortar-Extruir6 (cut, through all)
    with BuildSketch(Plane(origin=(127.46, 0, 0), x_dir=(0, 0, -1), z_dir=(1, 0, 0))):
        with Locations((2.2, 233.8)):
            Rectangle(CROQUIS17_W, CROQUIS17_H)
    extrude(amount=-CORTAR_EXTRUIR6_DEPTH, mode=Mode.SUBTRACT)

    # Redondeo4
    redondeo4_edges = [part.edges().sort_by_distance(p)[0] for p in [
        (52.7, 91.4, 0),
        (40.3, 91.4, 0),
    ]]
    fillet(redondeo4_edges, radius=REDONDEO4_R)

    # Croquis19 → Saliente-Extruir8 (add)
    with BuildSketch(Plane(origin=(0, 0, 0), x_dir=(-1, 0, 0), z_dir=(0, 0, -1))):
        with Locations((-17, 90.6)):
            Circle(CROQUIS19_R)
        with Locations((-17, 66.8)):
            Circle(CROQUIS19_R)
    extrude(amount=SALIENTE_EXTRUIR8_DEPTH)

    # Redondeo5
    redondeo5_edges = [part.edges().sort_by_distance(p)[0] for p in [
        (28.9, 78.7, 0),
    ]]
    fillet(redondeo5_edges, radius=REDONDEO5_R)

    # Croquis21 → Cortar-Extruir8 (cut)
    with BuildSketch(Plane(origin=(127.96, 0, 0), x_dir=(0, 0, -1), z_dir=(1, 0, 0)).offset(CORTAR_EXTRUIR8_START)):
        with Locations((4.1, 79.3)):
            Rectangle(CROQUIS21_W, CROQUIS21_H)
    extrude(amount=CORTAR_EXTRUIR8_DEPTH, mode=Mode.SUBTRACT)

    # Croquis23 → Cortar-Extruir9 (cut, through all)
    with BuildSketch(Plane.XY.offset(3.2)):
        with Locations((65.55, 158.15)):
            Rectangle(CROQUIS23_W, CROQUIS23_H)
    extrude(amount=-CORTAR_EXTRUIR9_DEPTH, mode=Mode.SUBTRACT)


solid = part.part
